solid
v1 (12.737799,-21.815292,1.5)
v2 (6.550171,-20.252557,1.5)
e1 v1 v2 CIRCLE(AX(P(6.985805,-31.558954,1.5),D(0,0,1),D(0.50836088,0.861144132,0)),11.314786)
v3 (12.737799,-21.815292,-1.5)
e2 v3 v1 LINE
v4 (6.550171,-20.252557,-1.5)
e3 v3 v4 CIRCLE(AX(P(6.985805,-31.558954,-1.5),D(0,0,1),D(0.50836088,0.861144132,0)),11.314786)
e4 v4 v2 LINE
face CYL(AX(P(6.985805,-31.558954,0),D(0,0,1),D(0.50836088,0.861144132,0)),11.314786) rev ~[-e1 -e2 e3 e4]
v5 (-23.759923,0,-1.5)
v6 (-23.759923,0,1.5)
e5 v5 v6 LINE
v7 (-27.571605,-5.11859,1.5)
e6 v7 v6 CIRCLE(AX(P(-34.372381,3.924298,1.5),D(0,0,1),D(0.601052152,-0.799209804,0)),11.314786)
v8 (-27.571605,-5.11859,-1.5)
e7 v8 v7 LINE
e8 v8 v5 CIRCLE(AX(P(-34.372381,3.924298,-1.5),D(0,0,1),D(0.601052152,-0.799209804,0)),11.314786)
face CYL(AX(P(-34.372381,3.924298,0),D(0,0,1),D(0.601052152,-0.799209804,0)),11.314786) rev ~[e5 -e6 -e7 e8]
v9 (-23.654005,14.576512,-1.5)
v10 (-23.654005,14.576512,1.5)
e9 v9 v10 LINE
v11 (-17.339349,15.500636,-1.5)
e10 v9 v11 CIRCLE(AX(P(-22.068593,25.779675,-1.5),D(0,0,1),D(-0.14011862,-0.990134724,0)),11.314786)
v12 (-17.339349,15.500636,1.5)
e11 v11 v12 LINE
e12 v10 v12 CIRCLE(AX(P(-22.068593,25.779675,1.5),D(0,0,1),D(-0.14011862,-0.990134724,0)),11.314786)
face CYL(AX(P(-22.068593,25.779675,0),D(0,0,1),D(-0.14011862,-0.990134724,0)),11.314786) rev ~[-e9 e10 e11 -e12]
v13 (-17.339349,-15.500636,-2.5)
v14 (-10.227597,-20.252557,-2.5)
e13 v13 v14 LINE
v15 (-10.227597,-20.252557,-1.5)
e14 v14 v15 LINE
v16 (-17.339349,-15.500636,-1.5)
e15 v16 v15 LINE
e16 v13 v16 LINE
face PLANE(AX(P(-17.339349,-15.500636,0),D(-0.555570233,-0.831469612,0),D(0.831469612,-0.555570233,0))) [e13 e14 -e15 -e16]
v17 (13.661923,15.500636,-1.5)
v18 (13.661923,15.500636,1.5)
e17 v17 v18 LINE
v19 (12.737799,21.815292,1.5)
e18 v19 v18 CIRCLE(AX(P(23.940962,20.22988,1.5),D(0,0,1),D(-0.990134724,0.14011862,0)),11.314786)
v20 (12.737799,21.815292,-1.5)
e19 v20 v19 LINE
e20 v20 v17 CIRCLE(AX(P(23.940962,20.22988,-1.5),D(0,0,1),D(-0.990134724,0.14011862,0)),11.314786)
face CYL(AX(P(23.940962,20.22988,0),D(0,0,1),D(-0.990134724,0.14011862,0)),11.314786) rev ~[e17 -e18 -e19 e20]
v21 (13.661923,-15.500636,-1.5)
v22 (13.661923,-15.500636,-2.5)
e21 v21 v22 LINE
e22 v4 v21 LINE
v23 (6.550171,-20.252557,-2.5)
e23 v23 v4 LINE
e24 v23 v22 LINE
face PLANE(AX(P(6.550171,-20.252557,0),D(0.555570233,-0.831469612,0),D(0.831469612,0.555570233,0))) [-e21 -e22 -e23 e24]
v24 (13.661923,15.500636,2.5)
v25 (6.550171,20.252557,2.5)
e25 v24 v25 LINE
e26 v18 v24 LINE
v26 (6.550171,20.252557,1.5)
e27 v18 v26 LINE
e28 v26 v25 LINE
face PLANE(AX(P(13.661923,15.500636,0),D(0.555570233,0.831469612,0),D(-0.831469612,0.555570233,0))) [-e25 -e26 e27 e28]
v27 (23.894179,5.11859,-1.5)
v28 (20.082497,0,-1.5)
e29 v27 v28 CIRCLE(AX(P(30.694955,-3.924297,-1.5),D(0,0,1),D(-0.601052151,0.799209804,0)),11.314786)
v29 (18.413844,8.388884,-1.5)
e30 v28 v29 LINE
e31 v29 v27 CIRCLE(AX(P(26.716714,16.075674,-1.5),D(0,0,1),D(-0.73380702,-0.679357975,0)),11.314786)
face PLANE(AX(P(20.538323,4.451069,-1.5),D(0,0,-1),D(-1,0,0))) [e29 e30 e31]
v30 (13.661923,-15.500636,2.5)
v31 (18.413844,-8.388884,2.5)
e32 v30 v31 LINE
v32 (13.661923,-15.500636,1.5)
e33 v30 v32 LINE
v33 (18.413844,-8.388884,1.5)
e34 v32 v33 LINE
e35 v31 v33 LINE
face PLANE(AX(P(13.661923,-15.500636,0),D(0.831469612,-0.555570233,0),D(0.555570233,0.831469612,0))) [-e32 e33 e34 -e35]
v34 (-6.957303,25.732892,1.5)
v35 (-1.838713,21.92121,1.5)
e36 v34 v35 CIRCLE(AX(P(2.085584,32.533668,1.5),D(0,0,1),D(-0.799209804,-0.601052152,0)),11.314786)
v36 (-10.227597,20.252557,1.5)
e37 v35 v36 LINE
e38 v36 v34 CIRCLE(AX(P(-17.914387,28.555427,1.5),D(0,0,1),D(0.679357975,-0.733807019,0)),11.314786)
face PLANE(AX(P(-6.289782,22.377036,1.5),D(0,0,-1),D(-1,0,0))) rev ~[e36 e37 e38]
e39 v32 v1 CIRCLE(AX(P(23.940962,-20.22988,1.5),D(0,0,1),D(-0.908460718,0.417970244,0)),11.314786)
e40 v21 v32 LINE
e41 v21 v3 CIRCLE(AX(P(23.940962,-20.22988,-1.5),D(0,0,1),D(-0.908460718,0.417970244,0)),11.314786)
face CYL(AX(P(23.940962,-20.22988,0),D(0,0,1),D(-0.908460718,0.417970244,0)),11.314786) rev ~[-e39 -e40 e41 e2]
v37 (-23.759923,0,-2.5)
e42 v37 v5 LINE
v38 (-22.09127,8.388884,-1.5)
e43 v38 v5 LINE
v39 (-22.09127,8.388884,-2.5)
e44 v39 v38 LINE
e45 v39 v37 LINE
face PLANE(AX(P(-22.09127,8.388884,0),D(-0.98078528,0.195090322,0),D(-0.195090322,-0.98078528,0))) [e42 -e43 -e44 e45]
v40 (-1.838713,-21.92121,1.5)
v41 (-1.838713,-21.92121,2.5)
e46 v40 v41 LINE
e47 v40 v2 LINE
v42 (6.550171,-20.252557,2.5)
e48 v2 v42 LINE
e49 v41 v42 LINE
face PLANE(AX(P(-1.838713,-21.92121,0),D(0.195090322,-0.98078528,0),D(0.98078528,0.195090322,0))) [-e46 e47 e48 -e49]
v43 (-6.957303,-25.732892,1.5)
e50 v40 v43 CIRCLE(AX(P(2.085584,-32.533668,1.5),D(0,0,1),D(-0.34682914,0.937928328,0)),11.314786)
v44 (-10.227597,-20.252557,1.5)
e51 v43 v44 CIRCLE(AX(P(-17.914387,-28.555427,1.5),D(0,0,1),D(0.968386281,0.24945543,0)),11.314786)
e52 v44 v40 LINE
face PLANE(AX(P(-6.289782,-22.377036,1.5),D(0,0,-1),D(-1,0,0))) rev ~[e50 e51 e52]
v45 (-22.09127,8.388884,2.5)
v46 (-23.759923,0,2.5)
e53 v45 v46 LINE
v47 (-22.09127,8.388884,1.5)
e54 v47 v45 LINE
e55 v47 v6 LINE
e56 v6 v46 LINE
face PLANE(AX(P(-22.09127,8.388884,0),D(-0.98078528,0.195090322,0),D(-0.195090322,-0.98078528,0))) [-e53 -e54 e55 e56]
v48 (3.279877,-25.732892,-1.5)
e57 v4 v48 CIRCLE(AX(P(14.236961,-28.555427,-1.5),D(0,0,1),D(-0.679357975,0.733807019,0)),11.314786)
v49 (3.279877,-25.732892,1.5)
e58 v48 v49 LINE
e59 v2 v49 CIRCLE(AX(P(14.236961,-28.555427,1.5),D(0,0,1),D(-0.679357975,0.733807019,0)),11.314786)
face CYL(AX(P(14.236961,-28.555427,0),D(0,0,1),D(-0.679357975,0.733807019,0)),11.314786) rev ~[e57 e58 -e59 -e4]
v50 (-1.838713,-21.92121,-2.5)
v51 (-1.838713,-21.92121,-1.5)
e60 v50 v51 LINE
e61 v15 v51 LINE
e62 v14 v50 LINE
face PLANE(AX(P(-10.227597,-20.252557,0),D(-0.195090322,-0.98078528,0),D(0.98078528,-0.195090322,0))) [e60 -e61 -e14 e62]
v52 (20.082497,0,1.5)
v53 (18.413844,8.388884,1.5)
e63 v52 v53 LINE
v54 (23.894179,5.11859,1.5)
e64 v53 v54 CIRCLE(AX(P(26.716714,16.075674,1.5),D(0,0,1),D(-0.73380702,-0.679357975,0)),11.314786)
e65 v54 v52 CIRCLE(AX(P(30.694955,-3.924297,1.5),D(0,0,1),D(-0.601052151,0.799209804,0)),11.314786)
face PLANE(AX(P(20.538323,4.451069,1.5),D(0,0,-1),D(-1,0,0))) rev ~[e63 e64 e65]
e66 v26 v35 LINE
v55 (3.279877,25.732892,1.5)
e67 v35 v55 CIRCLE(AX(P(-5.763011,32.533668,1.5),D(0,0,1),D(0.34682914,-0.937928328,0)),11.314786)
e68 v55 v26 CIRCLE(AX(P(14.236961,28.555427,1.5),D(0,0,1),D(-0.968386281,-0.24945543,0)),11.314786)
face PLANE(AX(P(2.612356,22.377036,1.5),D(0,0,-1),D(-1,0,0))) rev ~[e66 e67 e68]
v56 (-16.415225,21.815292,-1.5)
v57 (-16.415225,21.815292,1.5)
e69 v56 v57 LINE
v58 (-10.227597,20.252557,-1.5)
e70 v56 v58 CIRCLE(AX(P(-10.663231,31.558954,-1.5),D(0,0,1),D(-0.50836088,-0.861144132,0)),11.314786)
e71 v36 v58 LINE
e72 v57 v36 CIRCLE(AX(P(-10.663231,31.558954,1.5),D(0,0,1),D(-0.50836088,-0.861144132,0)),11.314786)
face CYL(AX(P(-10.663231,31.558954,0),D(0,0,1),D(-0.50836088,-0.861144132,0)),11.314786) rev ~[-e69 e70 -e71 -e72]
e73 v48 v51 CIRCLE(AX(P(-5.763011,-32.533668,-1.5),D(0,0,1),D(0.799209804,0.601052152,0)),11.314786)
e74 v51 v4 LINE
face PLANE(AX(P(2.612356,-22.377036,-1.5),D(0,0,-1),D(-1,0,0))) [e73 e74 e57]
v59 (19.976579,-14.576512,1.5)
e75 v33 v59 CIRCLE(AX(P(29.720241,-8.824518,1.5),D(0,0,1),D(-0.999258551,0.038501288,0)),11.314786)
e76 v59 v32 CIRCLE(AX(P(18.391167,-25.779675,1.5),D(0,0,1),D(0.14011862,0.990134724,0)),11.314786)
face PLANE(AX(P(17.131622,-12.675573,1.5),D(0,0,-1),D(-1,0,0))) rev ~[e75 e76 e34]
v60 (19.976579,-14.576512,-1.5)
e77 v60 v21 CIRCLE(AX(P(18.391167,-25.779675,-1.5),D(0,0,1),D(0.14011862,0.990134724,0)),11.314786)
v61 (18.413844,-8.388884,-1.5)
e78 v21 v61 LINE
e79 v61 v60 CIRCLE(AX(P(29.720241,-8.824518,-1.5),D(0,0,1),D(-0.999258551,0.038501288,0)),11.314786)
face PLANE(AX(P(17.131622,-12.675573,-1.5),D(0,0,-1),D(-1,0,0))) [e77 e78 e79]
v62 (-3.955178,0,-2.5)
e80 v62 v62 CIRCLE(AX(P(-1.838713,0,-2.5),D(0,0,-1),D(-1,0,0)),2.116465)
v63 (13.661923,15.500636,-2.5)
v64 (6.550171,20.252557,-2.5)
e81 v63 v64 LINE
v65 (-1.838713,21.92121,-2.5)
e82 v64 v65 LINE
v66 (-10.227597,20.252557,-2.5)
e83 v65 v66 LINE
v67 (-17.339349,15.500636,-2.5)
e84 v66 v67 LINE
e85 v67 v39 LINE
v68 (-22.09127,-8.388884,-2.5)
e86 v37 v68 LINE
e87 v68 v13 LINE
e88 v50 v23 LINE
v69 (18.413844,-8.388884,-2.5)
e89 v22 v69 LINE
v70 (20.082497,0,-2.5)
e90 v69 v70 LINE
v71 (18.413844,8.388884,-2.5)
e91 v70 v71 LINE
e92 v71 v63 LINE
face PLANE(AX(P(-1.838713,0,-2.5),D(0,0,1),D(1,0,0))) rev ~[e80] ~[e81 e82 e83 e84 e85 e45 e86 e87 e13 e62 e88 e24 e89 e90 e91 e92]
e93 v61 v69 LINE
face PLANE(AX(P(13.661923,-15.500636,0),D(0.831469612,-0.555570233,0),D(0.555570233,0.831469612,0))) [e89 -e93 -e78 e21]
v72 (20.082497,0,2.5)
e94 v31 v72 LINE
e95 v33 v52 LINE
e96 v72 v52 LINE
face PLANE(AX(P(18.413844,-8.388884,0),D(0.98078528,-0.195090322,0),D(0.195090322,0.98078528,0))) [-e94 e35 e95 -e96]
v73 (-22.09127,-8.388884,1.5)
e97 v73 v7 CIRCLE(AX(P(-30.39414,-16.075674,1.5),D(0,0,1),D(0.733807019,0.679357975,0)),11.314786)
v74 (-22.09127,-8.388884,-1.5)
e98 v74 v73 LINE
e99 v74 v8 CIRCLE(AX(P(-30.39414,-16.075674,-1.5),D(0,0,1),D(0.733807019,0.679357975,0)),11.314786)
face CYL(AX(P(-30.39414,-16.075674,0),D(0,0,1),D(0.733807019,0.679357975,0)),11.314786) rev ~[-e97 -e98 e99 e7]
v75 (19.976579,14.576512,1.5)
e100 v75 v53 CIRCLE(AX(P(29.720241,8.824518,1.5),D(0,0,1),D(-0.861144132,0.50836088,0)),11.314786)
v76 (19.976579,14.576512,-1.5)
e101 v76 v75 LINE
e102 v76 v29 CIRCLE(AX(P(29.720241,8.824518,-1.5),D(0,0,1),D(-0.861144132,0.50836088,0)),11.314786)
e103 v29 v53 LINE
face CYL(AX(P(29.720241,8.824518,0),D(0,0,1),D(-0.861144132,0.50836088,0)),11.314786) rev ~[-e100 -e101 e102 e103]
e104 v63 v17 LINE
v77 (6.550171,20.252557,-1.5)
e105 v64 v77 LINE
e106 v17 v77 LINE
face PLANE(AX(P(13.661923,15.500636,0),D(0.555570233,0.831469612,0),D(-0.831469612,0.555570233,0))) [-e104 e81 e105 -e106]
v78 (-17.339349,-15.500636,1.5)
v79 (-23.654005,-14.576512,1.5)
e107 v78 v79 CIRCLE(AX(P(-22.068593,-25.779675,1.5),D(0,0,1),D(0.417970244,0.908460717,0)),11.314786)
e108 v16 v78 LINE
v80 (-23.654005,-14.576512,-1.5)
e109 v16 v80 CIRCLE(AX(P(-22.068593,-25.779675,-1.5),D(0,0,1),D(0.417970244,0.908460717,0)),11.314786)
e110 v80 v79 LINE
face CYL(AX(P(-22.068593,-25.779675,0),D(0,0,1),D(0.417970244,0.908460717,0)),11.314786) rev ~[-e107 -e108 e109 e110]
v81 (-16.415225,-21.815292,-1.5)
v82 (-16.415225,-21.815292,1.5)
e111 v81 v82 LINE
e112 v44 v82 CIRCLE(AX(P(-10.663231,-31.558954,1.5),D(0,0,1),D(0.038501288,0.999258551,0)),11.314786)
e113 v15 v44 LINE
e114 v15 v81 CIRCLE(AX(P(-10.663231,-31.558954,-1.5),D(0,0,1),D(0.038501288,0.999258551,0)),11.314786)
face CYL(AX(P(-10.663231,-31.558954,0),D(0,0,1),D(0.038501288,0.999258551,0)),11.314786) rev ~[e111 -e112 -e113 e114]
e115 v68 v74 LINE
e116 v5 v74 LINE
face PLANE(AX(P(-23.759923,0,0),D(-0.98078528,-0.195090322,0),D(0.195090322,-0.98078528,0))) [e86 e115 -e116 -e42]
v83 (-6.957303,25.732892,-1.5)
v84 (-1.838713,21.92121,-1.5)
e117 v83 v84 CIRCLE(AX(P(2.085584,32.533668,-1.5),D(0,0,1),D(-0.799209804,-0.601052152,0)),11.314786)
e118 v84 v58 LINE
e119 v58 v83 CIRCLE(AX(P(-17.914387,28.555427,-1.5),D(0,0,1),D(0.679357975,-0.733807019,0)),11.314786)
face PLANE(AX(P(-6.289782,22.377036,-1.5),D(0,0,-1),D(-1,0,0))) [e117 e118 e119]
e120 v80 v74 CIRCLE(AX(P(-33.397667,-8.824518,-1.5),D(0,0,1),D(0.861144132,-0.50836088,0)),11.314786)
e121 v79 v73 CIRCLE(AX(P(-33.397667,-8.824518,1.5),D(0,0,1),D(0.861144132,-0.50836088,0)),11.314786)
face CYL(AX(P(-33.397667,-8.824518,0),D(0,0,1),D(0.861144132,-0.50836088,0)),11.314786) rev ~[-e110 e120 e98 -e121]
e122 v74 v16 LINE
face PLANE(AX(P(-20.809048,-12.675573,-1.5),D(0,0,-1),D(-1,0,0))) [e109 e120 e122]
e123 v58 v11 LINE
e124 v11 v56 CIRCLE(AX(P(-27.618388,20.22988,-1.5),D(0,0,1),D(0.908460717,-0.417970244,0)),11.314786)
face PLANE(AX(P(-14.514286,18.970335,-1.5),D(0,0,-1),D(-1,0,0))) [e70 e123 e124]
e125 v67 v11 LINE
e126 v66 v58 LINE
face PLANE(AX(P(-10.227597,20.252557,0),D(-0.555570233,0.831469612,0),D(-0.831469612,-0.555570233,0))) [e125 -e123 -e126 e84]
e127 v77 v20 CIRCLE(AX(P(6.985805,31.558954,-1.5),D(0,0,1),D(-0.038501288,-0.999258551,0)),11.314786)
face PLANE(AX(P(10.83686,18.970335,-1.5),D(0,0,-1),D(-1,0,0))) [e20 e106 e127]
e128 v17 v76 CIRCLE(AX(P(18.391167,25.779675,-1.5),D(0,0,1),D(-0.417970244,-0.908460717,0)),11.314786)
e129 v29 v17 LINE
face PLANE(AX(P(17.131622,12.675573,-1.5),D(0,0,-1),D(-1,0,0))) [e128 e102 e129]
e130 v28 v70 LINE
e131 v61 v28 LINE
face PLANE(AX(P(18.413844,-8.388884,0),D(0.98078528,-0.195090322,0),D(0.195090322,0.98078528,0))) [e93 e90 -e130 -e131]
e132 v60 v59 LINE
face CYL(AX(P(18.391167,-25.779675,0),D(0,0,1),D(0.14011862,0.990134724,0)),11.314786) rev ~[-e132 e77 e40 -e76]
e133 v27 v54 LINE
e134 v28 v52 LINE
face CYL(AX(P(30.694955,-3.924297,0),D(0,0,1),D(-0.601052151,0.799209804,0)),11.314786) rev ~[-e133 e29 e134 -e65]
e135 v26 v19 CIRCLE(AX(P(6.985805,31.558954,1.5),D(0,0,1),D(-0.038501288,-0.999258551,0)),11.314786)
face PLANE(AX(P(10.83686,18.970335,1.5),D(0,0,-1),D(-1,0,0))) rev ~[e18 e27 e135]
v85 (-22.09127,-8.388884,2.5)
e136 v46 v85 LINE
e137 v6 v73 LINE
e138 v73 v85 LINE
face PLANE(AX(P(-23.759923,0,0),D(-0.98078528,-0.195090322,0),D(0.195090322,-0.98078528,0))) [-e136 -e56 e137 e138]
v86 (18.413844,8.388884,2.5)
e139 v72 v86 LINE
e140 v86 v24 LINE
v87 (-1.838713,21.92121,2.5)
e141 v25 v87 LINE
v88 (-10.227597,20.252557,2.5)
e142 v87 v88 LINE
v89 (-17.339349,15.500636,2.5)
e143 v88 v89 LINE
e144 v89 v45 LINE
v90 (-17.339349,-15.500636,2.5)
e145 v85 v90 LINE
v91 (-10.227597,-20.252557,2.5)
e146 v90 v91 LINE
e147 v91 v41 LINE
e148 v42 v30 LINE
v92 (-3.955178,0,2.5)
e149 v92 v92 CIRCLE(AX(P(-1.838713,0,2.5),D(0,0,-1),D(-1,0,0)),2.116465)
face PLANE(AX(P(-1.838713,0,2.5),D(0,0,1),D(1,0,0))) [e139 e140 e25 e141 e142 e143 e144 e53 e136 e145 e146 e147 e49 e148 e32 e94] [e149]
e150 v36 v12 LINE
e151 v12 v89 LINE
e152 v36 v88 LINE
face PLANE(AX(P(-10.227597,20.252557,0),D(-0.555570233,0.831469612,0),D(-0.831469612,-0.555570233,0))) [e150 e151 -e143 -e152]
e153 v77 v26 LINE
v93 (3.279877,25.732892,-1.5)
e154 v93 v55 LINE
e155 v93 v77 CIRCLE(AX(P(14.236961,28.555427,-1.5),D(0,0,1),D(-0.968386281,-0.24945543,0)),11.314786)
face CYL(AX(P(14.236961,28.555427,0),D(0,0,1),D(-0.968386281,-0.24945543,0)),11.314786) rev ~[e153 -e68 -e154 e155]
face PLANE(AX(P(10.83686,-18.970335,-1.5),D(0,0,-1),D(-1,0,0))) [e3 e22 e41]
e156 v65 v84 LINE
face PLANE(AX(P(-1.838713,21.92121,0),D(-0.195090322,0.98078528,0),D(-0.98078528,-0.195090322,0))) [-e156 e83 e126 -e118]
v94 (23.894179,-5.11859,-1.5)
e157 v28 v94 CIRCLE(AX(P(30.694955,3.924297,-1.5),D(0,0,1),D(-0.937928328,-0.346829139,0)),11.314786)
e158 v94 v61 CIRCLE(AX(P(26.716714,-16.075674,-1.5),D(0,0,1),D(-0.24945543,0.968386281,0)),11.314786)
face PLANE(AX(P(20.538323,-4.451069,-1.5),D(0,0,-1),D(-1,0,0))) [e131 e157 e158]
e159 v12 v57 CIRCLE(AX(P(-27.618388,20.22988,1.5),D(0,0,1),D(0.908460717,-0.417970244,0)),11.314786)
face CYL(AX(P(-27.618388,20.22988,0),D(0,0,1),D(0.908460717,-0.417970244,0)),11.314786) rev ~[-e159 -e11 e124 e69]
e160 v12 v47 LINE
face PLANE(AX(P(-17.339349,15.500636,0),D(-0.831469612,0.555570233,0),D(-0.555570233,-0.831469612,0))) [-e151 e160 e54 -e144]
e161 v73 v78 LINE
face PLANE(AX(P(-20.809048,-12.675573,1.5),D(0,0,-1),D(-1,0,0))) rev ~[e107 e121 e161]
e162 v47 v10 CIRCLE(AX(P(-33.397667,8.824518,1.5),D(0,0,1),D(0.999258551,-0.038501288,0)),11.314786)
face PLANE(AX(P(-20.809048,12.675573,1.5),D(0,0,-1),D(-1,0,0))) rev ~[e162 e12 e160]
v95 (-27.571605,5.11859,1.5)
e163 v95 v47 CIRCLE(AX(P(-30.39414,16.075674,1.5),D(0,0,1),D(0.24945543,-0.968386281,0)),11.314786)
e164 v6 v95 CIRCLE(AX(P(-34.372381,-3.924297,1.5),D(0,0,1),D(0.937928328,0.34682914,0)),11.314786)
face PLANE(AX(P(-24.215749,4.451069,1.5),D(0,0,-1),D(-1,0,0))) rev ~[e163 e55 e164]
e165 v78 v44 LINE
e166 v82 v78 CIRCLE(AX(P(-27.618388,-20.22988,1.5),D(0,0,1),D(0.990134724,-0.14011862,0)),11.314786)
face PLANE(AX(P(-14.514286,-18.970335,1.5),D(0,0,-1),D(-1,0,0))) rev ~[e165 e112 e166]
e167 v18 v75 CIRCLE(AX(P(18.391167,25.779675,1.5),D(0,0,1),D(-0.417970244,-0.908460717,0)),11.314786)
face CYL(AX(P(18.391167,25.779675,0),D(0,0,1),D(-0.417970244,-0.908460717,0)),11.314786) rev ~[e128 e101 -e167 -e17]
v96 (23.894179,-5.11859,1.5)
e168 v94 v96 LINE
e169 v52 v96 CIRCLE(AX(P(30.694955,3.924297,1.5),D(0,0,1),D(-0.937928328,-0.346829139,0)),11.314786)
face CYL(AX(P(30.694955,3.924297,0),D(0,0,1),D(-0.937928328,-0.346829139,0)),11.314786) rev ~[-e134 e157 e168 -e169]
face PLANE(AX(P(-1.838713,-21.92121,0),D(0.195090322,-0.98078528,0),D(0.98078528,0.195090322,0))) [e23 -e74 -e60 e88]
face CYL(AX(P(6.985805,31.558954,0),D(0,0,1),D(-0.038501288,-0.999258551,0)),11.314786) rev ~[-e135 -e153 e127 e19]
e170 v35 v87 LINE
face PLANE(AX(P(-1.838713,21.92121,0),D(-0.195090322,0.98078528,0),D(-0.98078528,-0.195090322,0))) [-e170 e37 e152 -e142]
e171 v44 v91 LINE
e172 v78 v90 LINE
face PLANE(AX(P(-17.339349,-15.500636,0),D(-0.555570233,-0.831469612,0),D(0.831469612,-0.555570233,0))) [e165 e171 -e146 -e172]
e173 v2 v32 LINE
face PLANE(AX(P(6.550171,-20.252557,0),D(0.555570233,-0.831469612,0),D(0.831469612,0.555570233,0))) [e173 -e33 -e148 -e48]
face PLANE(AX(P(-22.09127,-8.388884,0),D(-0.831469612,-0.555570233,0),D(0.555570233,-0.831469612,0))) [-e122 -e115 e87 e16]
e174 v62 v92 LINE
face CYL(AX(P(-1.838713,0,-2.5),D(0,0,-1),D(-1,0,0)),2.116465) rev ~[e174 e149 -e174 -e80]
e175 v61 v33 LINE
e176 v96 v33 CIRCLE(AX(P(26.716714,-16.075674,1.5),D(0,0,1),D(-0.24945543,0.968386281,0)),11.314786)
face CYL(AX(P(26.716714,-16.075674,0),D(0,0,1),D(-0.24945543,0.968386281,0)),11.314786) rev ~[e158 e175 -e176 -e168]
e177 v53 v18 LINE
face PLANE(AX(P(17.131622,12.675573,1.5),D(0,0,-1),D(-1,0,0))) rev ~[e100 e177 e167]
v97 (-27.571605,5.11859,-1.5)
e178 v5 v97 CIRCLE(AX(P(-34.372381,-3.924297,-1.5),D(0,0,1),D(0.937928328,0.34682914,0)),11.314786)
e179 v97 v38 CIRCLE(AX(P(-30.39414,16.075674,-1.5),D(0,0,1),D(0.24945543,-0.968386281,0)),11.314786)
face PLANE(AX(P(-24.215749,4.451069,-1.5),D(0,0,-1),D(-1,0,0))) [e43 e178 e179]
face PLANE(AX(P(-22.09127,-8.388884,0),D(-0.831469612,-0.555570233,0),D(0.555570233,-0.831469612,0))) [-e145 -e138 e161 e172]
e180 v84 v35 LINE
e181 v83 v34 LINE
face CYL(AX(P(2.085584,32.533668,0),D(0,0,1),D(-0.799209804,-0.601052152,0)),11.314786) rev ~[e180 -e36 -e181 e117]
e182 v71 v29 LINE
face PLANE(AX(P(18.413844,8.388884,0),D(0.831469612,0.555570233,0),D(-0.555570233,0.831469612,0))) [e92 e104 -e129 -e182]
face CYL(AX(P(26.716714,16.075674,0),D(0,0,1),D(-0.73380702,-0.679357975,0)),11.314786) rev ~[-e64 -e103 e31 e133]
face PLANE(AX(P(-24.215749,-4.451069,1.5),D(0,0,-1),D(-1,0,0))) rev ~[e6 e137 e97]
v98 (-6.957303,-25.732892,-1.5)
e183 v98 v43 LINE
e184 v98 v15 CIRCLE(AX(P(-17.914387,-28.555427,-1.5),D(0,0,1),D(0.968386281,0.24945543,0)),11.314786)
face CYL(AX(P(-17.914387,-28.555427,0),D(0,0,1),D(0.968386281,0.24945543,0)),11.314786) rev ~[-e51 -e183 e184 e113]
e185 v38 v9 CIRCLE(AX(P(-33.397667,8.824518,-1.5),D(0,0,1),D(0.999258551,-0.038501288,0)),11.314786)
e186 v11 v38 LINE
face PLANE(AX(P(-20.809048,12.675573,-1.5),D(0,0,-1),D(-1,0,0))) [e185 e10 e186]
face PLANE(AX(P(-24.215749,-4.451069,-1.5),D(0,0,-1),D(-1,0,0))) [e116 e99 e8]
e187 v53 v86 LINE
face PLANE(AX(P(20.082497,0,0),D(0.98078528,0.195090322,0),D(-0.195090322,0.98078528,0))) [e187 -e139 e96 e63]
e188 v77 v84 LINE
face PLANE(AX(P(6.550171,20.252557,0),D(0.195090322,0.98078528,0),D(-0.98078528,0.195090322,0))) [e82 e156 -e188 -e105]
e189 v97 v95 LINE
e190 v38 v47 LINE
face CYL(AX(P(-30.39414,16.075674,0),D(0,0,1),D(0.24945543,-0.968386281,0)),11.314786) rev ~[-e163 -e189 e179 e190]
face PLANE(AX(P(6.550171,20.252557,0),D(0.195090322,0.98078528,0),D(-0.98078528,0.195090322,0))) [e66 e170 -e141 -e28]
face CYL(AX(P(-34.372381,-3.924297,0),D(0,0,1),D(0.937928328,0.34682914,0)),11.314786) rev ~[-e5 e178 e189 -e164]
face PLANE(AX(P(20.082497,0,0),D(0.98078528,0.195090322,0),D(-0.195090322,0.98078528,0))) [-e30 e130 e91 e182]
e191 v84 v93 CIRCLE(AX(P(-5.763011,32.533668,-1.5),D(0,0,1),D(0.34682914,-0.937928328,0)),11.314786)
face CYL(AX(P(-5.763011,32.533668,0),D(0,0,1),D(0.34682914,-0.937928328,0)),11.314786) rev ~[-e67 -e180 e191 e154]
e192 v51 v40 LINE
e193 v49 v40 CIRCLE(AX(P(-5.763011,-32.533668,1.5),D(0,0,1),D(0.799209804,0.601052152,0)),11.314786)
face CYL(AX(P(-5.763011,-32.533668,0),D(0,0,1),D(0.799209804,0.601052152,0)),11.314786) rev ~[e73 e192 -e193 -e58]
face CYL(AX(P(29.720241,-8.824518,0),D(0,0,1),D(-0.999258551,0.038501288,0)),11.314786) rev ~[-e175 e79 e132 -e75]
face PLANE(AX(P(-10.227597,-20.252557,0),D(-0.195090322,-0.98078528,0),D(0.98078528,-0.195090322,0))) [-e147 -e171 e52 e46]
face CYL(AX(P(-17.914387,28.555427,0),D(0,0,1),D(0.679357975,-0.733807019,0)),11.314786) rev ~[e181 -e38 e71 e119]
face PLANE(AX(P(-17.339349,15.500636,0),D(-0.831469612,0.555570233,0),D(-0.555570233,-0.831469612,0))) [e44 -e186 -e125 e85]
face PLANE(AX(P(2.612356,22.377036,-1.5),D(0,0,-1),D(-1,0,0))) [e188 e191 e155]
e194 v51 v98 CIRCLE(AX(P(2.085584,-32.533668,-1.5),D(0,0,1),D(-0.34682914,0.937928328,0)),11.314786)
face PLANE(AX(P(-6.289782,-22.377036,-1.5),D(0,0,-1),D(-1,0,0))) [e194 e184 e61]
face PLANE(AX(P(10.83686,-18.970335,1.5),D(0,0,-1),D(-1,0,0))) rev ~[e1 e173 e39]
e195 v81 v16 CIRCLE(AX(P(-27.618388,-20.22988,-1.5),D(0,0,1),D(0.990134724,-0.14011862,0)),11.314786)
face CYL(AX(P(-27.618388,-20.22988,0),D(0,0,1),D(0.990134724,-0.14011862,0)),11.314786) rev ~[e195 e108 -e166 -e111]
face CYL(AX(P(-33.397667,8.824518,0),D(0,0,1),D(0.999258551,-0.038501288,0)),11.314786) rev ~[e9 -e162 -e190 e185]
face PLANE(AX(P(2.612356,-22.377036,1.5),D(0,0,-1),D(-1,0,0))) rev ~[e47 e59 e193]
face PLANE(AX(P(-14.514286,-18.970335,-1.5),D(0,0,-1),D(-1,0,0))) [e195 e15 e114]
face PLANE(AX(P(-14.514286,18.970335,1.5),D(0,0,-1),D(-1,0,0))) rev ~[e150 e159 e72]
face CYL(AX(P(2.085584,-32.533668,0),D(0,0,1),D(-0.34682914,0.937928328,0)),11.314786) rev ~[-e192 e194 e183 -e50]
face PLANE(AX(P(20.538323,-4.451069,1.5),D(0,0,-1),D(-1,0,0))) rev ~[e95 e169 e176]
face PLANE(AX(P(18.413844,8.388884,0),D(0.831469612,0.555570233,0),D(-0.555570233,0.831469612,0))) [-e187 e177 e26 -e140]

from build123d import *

# Parameters (mm, degrees)
Y_KSEKLIK_EKSTR_ZYON1_DEPTH = 2.5
IZIM3_R                     = 2.116464506
KES_EKSTR_ZYON2_DEPTH       = 31
Y_KSEKLIK_EKSTR_ZYON3_DEPTH = 1.5


with BuildPart() as part:
    # Çizim1 → Yükseklik-Ekstrüzyon1 (new body, symmetric)
    with BuildSketch(Plane.XY):
        Polygon((20.082496858, 0), (18.413844112, 8.388883847), (13.661923129, 15.500636173), (6.550170803, 20.252557156), (-1.838713044, 21.921209901), (-10.22759689, 20.252557156), (-17.339349217, 15.500636173), (-22.0912702, 8.388883847), (-23.759922945, 0), (-22.0912702, -8.388883847), (-17.339349217, -15.500636173), (-10.22759689, -20.252557156), (-1.838713044, -21.921209901), (6.550170803, -20.252557156), (13.661923129, -15.500636173), (18.413844112, -8.388883847), align=None)
    extrude(amount=Y_KSEKLIK_EKSTR_ZYON1_DEPTH, both=True)

    # Çizim3 → Kes-Ekstrüzyon2 (cut)
    with BuildSketch(Plane(origin=(0, 0, -2.5), x_dir=(-1, 0, 0), z_dir=(0, 0, -1))):
        with Locations((1.838713044, 0)):
            Circle(IZIM3_R)
    extrude(amount=-KES_EKSTR_ZYON2_DEPTH, mode=Mode.SUBTRACT)

    # Çizim6 → Yükseklik-Ekstrüzyon3 (add, symmetric)
    with BuildSketch(Plane.XY):
        with BuildLine():
            ThreePointArc((-6.957303461, 25.732891749), (-4.672314924, 23.458692825), (-1.838713044, 21.921209901))
            Line((-1.838713044, 21.921209901), (-10.22759689, 20.252557156))
            ThreePointArc((-10.22759689, 20.252557156), (-8.198059352, 22.757378654), (-6.957303461, 25.732891749))
        make_face()
        with BuildLine():
            ThreePointArc((3.279877374, 25.732891749), (4.520633265, 22.757378654), (6.550170803, 20.252557156))
            Line((6.550170803, 20.252557156), (-1.838713044, 21.921209901))
            ThreePointArc((-1.838713044, 21.921209901), (0.994888837, 23.458692825), (3.279877374, 25.732891749))
        make_face()
        with BuildLine():
            ThreePointArc((12.737799217, 21.815292249), (12.745428626, 18.591459879), (13.661923129, 15.500636173))
            Line((13.661923129, 15.500636173), (6.550170803, 20.252557156))
            ThreePointArc((6.550170803, 20.252557156), (9.756446826, 20.588633667), (12.737799217, 21.815292249))
        make_face()
        with BuildLine():
            ThreePointArc((19.976579206, 14.576512261), (18.749920623, 11.59515987), (18.413844112, 8.388883847))
            Line((18.413844112, 8.388883847), (13.661923129, 15.500636173))
            ThreePointArc((13.661923129, 15.500636173), (16.752746836, 14.584141669), (19.976579206, 14.576512261))
        make_face()
        with BuildLine():
            ThreePointArc((23.894178705, 5.118590417), (21.619979781, 2.833601881), (20.082496858, 0))
            Line((20.082496858, 0), (18.413844112, 8.388883847))
            ThreePointArc((18.413844112, 8.388883847), (20.91866561, 6.359346308), (23.894178705, 5.118590417))
        make_face()
        with BuildLine():
            ThreePointArc((23.894178705, -5.118590417), (20.91866561, -6.359346308), (18.413844112, -8.388883847))
            Line((18.413844112, -8.388883847), (20.082496858, 0))
            ThreePointArc((20.082496858, 0), (21.619979781, -2.833601881), (23.894178705, -5.118590417))
        make_face()
        with BuildLine():
            ThreePointArc((19.976579206, -14.576512261), (16.752746836, -14.584141669), (13.661923129, -15.500636173))
            Line((13.661923129, -15.500636173), (18.413844112, -8.388883847))
            ThreePointArc((18.413844112, -8.388883847), (18.749920623, -11.59515987), (19.976579206, -14.576512261))
        make_face()
        with BuildLine():
            ThreePointArc((12.737799217, -21.815292249), (9.756446826, -20.588633667), (6.550170803, -20.252557156))
            Line((6.550170803, -20.252557156), (13.661923129, -15.500636173))
            ThreePointArc((13.661923129, -15.500636173), (12.745428626, -18.591459879), (12.737799217, -21.815292249))
        make_face()
        with BuildLine():
            ThreePointArc((3.279877374, -25.732891749), (0.994888837, -23.458692825), (-1.838713044, -21.921209901))
            Line((-1.838713044, -21.921209901), (6.550170803, -20.252557156))
            ThreePointArc((6.550170803, -20.252557156), (4.520633265, -22.757378654), (3.279877374, -25.732891749))
        make_face()
        with BuildLine():
            ThreePointArc((-6.957303461, -25.732891749), (-8.198059352, -22.757378654), (-10.22759689, -20.252557156))
            Line((-10.22759689, -20.252557156), (-1.838713044, -21.921209901))
            ThreePointArc((-1.838713044, -21.921209901), (-4.672314924, -23.458692825), (-6.957303461, -25.732891749))
        make_face()
        with BuildLine():
            ThreePointArc((-16.415225305, -21.815292249), (-16.422854713, -18.591459879), (-17.339349217, -15.500636173))
            Line((-17.339349217, -15.500636173), (-10.22759689, -20.252557156))
            ThreePointArc((-10.22759689, -20.252557156), (-13.433872913, -20.588633667), (-16.415225305, -21.815292249))
        make_face()
        with BuildLine():
            ThreePointArc((-23.654005293, -14.576512261), (-22.427346711, -11.59515987), (-22.0912702, -8.388883847))
            Line((-22.0912702, -8.388883847), (-17.339349217, -15.500636173))
            ThreePointArc((-17.339349217, -15.500636173), (-20.430172923, -14.584141669), (-23.654005293, -14.576512261))
        make_face()
        with BuildLine():
            ThreePointArc((-27.571604792, -5.118590417), (-25.297405869, -2.833601881), (-23.759922945, 0))
            Line((-23.759922945, 0), (-22.0912702, -8.388883847))
            ThreePointArc((-22.0912702, -8.388883847), (-24.596091698, -6.359346308), (-27.571604792, -5.118590417))
        make_face()
        with BuildLine():
            ThreePointArc((-27.571604793, 5.118590417), (-24.596091698, 6.359346308), (-22.0912702, 8.388883847))
            Line((-22.0912702, 8.388883847), (-23.759922945, 0))
            ThreePointArc((-23.759922945, 0), (-25.297405869, 2.833601881), (-27.571604793, 5.118590417))
        make_face()
        with BuildLine():
            ThreePointArc((-23.654005293, 14.576512261), (-20.430172923, 14.584141669), (-17.339349217, 15.500636173))
            Line((-17.339349217, 15.500636173), (-22.0912702, 8.388883847))
            ThreePointArc((-22.0912702, 8.388883847), (-22.427346711, 11.59515987), (-23.654005293, 14.576512261))
        make_face()
        with BuildLine():
            ThreePointArc((-16.415225305, 21.815292249), (-13.433872913, 20.588633667), (-10.22759689, 20.252557156))
            Line((-10.22759689, 20.252557156), (-17.339349217, 15.500636173))
            ThreePointArc((-17.339349217, 15.500636173), (-16.422854713, 18.591459879), (-16.415225305, 21.815292249))
        make_face()
    extrude(amount=Y_KSEKLIK_EKSTR_ZYON3_DEPTH, both=True)


solid = part.part
